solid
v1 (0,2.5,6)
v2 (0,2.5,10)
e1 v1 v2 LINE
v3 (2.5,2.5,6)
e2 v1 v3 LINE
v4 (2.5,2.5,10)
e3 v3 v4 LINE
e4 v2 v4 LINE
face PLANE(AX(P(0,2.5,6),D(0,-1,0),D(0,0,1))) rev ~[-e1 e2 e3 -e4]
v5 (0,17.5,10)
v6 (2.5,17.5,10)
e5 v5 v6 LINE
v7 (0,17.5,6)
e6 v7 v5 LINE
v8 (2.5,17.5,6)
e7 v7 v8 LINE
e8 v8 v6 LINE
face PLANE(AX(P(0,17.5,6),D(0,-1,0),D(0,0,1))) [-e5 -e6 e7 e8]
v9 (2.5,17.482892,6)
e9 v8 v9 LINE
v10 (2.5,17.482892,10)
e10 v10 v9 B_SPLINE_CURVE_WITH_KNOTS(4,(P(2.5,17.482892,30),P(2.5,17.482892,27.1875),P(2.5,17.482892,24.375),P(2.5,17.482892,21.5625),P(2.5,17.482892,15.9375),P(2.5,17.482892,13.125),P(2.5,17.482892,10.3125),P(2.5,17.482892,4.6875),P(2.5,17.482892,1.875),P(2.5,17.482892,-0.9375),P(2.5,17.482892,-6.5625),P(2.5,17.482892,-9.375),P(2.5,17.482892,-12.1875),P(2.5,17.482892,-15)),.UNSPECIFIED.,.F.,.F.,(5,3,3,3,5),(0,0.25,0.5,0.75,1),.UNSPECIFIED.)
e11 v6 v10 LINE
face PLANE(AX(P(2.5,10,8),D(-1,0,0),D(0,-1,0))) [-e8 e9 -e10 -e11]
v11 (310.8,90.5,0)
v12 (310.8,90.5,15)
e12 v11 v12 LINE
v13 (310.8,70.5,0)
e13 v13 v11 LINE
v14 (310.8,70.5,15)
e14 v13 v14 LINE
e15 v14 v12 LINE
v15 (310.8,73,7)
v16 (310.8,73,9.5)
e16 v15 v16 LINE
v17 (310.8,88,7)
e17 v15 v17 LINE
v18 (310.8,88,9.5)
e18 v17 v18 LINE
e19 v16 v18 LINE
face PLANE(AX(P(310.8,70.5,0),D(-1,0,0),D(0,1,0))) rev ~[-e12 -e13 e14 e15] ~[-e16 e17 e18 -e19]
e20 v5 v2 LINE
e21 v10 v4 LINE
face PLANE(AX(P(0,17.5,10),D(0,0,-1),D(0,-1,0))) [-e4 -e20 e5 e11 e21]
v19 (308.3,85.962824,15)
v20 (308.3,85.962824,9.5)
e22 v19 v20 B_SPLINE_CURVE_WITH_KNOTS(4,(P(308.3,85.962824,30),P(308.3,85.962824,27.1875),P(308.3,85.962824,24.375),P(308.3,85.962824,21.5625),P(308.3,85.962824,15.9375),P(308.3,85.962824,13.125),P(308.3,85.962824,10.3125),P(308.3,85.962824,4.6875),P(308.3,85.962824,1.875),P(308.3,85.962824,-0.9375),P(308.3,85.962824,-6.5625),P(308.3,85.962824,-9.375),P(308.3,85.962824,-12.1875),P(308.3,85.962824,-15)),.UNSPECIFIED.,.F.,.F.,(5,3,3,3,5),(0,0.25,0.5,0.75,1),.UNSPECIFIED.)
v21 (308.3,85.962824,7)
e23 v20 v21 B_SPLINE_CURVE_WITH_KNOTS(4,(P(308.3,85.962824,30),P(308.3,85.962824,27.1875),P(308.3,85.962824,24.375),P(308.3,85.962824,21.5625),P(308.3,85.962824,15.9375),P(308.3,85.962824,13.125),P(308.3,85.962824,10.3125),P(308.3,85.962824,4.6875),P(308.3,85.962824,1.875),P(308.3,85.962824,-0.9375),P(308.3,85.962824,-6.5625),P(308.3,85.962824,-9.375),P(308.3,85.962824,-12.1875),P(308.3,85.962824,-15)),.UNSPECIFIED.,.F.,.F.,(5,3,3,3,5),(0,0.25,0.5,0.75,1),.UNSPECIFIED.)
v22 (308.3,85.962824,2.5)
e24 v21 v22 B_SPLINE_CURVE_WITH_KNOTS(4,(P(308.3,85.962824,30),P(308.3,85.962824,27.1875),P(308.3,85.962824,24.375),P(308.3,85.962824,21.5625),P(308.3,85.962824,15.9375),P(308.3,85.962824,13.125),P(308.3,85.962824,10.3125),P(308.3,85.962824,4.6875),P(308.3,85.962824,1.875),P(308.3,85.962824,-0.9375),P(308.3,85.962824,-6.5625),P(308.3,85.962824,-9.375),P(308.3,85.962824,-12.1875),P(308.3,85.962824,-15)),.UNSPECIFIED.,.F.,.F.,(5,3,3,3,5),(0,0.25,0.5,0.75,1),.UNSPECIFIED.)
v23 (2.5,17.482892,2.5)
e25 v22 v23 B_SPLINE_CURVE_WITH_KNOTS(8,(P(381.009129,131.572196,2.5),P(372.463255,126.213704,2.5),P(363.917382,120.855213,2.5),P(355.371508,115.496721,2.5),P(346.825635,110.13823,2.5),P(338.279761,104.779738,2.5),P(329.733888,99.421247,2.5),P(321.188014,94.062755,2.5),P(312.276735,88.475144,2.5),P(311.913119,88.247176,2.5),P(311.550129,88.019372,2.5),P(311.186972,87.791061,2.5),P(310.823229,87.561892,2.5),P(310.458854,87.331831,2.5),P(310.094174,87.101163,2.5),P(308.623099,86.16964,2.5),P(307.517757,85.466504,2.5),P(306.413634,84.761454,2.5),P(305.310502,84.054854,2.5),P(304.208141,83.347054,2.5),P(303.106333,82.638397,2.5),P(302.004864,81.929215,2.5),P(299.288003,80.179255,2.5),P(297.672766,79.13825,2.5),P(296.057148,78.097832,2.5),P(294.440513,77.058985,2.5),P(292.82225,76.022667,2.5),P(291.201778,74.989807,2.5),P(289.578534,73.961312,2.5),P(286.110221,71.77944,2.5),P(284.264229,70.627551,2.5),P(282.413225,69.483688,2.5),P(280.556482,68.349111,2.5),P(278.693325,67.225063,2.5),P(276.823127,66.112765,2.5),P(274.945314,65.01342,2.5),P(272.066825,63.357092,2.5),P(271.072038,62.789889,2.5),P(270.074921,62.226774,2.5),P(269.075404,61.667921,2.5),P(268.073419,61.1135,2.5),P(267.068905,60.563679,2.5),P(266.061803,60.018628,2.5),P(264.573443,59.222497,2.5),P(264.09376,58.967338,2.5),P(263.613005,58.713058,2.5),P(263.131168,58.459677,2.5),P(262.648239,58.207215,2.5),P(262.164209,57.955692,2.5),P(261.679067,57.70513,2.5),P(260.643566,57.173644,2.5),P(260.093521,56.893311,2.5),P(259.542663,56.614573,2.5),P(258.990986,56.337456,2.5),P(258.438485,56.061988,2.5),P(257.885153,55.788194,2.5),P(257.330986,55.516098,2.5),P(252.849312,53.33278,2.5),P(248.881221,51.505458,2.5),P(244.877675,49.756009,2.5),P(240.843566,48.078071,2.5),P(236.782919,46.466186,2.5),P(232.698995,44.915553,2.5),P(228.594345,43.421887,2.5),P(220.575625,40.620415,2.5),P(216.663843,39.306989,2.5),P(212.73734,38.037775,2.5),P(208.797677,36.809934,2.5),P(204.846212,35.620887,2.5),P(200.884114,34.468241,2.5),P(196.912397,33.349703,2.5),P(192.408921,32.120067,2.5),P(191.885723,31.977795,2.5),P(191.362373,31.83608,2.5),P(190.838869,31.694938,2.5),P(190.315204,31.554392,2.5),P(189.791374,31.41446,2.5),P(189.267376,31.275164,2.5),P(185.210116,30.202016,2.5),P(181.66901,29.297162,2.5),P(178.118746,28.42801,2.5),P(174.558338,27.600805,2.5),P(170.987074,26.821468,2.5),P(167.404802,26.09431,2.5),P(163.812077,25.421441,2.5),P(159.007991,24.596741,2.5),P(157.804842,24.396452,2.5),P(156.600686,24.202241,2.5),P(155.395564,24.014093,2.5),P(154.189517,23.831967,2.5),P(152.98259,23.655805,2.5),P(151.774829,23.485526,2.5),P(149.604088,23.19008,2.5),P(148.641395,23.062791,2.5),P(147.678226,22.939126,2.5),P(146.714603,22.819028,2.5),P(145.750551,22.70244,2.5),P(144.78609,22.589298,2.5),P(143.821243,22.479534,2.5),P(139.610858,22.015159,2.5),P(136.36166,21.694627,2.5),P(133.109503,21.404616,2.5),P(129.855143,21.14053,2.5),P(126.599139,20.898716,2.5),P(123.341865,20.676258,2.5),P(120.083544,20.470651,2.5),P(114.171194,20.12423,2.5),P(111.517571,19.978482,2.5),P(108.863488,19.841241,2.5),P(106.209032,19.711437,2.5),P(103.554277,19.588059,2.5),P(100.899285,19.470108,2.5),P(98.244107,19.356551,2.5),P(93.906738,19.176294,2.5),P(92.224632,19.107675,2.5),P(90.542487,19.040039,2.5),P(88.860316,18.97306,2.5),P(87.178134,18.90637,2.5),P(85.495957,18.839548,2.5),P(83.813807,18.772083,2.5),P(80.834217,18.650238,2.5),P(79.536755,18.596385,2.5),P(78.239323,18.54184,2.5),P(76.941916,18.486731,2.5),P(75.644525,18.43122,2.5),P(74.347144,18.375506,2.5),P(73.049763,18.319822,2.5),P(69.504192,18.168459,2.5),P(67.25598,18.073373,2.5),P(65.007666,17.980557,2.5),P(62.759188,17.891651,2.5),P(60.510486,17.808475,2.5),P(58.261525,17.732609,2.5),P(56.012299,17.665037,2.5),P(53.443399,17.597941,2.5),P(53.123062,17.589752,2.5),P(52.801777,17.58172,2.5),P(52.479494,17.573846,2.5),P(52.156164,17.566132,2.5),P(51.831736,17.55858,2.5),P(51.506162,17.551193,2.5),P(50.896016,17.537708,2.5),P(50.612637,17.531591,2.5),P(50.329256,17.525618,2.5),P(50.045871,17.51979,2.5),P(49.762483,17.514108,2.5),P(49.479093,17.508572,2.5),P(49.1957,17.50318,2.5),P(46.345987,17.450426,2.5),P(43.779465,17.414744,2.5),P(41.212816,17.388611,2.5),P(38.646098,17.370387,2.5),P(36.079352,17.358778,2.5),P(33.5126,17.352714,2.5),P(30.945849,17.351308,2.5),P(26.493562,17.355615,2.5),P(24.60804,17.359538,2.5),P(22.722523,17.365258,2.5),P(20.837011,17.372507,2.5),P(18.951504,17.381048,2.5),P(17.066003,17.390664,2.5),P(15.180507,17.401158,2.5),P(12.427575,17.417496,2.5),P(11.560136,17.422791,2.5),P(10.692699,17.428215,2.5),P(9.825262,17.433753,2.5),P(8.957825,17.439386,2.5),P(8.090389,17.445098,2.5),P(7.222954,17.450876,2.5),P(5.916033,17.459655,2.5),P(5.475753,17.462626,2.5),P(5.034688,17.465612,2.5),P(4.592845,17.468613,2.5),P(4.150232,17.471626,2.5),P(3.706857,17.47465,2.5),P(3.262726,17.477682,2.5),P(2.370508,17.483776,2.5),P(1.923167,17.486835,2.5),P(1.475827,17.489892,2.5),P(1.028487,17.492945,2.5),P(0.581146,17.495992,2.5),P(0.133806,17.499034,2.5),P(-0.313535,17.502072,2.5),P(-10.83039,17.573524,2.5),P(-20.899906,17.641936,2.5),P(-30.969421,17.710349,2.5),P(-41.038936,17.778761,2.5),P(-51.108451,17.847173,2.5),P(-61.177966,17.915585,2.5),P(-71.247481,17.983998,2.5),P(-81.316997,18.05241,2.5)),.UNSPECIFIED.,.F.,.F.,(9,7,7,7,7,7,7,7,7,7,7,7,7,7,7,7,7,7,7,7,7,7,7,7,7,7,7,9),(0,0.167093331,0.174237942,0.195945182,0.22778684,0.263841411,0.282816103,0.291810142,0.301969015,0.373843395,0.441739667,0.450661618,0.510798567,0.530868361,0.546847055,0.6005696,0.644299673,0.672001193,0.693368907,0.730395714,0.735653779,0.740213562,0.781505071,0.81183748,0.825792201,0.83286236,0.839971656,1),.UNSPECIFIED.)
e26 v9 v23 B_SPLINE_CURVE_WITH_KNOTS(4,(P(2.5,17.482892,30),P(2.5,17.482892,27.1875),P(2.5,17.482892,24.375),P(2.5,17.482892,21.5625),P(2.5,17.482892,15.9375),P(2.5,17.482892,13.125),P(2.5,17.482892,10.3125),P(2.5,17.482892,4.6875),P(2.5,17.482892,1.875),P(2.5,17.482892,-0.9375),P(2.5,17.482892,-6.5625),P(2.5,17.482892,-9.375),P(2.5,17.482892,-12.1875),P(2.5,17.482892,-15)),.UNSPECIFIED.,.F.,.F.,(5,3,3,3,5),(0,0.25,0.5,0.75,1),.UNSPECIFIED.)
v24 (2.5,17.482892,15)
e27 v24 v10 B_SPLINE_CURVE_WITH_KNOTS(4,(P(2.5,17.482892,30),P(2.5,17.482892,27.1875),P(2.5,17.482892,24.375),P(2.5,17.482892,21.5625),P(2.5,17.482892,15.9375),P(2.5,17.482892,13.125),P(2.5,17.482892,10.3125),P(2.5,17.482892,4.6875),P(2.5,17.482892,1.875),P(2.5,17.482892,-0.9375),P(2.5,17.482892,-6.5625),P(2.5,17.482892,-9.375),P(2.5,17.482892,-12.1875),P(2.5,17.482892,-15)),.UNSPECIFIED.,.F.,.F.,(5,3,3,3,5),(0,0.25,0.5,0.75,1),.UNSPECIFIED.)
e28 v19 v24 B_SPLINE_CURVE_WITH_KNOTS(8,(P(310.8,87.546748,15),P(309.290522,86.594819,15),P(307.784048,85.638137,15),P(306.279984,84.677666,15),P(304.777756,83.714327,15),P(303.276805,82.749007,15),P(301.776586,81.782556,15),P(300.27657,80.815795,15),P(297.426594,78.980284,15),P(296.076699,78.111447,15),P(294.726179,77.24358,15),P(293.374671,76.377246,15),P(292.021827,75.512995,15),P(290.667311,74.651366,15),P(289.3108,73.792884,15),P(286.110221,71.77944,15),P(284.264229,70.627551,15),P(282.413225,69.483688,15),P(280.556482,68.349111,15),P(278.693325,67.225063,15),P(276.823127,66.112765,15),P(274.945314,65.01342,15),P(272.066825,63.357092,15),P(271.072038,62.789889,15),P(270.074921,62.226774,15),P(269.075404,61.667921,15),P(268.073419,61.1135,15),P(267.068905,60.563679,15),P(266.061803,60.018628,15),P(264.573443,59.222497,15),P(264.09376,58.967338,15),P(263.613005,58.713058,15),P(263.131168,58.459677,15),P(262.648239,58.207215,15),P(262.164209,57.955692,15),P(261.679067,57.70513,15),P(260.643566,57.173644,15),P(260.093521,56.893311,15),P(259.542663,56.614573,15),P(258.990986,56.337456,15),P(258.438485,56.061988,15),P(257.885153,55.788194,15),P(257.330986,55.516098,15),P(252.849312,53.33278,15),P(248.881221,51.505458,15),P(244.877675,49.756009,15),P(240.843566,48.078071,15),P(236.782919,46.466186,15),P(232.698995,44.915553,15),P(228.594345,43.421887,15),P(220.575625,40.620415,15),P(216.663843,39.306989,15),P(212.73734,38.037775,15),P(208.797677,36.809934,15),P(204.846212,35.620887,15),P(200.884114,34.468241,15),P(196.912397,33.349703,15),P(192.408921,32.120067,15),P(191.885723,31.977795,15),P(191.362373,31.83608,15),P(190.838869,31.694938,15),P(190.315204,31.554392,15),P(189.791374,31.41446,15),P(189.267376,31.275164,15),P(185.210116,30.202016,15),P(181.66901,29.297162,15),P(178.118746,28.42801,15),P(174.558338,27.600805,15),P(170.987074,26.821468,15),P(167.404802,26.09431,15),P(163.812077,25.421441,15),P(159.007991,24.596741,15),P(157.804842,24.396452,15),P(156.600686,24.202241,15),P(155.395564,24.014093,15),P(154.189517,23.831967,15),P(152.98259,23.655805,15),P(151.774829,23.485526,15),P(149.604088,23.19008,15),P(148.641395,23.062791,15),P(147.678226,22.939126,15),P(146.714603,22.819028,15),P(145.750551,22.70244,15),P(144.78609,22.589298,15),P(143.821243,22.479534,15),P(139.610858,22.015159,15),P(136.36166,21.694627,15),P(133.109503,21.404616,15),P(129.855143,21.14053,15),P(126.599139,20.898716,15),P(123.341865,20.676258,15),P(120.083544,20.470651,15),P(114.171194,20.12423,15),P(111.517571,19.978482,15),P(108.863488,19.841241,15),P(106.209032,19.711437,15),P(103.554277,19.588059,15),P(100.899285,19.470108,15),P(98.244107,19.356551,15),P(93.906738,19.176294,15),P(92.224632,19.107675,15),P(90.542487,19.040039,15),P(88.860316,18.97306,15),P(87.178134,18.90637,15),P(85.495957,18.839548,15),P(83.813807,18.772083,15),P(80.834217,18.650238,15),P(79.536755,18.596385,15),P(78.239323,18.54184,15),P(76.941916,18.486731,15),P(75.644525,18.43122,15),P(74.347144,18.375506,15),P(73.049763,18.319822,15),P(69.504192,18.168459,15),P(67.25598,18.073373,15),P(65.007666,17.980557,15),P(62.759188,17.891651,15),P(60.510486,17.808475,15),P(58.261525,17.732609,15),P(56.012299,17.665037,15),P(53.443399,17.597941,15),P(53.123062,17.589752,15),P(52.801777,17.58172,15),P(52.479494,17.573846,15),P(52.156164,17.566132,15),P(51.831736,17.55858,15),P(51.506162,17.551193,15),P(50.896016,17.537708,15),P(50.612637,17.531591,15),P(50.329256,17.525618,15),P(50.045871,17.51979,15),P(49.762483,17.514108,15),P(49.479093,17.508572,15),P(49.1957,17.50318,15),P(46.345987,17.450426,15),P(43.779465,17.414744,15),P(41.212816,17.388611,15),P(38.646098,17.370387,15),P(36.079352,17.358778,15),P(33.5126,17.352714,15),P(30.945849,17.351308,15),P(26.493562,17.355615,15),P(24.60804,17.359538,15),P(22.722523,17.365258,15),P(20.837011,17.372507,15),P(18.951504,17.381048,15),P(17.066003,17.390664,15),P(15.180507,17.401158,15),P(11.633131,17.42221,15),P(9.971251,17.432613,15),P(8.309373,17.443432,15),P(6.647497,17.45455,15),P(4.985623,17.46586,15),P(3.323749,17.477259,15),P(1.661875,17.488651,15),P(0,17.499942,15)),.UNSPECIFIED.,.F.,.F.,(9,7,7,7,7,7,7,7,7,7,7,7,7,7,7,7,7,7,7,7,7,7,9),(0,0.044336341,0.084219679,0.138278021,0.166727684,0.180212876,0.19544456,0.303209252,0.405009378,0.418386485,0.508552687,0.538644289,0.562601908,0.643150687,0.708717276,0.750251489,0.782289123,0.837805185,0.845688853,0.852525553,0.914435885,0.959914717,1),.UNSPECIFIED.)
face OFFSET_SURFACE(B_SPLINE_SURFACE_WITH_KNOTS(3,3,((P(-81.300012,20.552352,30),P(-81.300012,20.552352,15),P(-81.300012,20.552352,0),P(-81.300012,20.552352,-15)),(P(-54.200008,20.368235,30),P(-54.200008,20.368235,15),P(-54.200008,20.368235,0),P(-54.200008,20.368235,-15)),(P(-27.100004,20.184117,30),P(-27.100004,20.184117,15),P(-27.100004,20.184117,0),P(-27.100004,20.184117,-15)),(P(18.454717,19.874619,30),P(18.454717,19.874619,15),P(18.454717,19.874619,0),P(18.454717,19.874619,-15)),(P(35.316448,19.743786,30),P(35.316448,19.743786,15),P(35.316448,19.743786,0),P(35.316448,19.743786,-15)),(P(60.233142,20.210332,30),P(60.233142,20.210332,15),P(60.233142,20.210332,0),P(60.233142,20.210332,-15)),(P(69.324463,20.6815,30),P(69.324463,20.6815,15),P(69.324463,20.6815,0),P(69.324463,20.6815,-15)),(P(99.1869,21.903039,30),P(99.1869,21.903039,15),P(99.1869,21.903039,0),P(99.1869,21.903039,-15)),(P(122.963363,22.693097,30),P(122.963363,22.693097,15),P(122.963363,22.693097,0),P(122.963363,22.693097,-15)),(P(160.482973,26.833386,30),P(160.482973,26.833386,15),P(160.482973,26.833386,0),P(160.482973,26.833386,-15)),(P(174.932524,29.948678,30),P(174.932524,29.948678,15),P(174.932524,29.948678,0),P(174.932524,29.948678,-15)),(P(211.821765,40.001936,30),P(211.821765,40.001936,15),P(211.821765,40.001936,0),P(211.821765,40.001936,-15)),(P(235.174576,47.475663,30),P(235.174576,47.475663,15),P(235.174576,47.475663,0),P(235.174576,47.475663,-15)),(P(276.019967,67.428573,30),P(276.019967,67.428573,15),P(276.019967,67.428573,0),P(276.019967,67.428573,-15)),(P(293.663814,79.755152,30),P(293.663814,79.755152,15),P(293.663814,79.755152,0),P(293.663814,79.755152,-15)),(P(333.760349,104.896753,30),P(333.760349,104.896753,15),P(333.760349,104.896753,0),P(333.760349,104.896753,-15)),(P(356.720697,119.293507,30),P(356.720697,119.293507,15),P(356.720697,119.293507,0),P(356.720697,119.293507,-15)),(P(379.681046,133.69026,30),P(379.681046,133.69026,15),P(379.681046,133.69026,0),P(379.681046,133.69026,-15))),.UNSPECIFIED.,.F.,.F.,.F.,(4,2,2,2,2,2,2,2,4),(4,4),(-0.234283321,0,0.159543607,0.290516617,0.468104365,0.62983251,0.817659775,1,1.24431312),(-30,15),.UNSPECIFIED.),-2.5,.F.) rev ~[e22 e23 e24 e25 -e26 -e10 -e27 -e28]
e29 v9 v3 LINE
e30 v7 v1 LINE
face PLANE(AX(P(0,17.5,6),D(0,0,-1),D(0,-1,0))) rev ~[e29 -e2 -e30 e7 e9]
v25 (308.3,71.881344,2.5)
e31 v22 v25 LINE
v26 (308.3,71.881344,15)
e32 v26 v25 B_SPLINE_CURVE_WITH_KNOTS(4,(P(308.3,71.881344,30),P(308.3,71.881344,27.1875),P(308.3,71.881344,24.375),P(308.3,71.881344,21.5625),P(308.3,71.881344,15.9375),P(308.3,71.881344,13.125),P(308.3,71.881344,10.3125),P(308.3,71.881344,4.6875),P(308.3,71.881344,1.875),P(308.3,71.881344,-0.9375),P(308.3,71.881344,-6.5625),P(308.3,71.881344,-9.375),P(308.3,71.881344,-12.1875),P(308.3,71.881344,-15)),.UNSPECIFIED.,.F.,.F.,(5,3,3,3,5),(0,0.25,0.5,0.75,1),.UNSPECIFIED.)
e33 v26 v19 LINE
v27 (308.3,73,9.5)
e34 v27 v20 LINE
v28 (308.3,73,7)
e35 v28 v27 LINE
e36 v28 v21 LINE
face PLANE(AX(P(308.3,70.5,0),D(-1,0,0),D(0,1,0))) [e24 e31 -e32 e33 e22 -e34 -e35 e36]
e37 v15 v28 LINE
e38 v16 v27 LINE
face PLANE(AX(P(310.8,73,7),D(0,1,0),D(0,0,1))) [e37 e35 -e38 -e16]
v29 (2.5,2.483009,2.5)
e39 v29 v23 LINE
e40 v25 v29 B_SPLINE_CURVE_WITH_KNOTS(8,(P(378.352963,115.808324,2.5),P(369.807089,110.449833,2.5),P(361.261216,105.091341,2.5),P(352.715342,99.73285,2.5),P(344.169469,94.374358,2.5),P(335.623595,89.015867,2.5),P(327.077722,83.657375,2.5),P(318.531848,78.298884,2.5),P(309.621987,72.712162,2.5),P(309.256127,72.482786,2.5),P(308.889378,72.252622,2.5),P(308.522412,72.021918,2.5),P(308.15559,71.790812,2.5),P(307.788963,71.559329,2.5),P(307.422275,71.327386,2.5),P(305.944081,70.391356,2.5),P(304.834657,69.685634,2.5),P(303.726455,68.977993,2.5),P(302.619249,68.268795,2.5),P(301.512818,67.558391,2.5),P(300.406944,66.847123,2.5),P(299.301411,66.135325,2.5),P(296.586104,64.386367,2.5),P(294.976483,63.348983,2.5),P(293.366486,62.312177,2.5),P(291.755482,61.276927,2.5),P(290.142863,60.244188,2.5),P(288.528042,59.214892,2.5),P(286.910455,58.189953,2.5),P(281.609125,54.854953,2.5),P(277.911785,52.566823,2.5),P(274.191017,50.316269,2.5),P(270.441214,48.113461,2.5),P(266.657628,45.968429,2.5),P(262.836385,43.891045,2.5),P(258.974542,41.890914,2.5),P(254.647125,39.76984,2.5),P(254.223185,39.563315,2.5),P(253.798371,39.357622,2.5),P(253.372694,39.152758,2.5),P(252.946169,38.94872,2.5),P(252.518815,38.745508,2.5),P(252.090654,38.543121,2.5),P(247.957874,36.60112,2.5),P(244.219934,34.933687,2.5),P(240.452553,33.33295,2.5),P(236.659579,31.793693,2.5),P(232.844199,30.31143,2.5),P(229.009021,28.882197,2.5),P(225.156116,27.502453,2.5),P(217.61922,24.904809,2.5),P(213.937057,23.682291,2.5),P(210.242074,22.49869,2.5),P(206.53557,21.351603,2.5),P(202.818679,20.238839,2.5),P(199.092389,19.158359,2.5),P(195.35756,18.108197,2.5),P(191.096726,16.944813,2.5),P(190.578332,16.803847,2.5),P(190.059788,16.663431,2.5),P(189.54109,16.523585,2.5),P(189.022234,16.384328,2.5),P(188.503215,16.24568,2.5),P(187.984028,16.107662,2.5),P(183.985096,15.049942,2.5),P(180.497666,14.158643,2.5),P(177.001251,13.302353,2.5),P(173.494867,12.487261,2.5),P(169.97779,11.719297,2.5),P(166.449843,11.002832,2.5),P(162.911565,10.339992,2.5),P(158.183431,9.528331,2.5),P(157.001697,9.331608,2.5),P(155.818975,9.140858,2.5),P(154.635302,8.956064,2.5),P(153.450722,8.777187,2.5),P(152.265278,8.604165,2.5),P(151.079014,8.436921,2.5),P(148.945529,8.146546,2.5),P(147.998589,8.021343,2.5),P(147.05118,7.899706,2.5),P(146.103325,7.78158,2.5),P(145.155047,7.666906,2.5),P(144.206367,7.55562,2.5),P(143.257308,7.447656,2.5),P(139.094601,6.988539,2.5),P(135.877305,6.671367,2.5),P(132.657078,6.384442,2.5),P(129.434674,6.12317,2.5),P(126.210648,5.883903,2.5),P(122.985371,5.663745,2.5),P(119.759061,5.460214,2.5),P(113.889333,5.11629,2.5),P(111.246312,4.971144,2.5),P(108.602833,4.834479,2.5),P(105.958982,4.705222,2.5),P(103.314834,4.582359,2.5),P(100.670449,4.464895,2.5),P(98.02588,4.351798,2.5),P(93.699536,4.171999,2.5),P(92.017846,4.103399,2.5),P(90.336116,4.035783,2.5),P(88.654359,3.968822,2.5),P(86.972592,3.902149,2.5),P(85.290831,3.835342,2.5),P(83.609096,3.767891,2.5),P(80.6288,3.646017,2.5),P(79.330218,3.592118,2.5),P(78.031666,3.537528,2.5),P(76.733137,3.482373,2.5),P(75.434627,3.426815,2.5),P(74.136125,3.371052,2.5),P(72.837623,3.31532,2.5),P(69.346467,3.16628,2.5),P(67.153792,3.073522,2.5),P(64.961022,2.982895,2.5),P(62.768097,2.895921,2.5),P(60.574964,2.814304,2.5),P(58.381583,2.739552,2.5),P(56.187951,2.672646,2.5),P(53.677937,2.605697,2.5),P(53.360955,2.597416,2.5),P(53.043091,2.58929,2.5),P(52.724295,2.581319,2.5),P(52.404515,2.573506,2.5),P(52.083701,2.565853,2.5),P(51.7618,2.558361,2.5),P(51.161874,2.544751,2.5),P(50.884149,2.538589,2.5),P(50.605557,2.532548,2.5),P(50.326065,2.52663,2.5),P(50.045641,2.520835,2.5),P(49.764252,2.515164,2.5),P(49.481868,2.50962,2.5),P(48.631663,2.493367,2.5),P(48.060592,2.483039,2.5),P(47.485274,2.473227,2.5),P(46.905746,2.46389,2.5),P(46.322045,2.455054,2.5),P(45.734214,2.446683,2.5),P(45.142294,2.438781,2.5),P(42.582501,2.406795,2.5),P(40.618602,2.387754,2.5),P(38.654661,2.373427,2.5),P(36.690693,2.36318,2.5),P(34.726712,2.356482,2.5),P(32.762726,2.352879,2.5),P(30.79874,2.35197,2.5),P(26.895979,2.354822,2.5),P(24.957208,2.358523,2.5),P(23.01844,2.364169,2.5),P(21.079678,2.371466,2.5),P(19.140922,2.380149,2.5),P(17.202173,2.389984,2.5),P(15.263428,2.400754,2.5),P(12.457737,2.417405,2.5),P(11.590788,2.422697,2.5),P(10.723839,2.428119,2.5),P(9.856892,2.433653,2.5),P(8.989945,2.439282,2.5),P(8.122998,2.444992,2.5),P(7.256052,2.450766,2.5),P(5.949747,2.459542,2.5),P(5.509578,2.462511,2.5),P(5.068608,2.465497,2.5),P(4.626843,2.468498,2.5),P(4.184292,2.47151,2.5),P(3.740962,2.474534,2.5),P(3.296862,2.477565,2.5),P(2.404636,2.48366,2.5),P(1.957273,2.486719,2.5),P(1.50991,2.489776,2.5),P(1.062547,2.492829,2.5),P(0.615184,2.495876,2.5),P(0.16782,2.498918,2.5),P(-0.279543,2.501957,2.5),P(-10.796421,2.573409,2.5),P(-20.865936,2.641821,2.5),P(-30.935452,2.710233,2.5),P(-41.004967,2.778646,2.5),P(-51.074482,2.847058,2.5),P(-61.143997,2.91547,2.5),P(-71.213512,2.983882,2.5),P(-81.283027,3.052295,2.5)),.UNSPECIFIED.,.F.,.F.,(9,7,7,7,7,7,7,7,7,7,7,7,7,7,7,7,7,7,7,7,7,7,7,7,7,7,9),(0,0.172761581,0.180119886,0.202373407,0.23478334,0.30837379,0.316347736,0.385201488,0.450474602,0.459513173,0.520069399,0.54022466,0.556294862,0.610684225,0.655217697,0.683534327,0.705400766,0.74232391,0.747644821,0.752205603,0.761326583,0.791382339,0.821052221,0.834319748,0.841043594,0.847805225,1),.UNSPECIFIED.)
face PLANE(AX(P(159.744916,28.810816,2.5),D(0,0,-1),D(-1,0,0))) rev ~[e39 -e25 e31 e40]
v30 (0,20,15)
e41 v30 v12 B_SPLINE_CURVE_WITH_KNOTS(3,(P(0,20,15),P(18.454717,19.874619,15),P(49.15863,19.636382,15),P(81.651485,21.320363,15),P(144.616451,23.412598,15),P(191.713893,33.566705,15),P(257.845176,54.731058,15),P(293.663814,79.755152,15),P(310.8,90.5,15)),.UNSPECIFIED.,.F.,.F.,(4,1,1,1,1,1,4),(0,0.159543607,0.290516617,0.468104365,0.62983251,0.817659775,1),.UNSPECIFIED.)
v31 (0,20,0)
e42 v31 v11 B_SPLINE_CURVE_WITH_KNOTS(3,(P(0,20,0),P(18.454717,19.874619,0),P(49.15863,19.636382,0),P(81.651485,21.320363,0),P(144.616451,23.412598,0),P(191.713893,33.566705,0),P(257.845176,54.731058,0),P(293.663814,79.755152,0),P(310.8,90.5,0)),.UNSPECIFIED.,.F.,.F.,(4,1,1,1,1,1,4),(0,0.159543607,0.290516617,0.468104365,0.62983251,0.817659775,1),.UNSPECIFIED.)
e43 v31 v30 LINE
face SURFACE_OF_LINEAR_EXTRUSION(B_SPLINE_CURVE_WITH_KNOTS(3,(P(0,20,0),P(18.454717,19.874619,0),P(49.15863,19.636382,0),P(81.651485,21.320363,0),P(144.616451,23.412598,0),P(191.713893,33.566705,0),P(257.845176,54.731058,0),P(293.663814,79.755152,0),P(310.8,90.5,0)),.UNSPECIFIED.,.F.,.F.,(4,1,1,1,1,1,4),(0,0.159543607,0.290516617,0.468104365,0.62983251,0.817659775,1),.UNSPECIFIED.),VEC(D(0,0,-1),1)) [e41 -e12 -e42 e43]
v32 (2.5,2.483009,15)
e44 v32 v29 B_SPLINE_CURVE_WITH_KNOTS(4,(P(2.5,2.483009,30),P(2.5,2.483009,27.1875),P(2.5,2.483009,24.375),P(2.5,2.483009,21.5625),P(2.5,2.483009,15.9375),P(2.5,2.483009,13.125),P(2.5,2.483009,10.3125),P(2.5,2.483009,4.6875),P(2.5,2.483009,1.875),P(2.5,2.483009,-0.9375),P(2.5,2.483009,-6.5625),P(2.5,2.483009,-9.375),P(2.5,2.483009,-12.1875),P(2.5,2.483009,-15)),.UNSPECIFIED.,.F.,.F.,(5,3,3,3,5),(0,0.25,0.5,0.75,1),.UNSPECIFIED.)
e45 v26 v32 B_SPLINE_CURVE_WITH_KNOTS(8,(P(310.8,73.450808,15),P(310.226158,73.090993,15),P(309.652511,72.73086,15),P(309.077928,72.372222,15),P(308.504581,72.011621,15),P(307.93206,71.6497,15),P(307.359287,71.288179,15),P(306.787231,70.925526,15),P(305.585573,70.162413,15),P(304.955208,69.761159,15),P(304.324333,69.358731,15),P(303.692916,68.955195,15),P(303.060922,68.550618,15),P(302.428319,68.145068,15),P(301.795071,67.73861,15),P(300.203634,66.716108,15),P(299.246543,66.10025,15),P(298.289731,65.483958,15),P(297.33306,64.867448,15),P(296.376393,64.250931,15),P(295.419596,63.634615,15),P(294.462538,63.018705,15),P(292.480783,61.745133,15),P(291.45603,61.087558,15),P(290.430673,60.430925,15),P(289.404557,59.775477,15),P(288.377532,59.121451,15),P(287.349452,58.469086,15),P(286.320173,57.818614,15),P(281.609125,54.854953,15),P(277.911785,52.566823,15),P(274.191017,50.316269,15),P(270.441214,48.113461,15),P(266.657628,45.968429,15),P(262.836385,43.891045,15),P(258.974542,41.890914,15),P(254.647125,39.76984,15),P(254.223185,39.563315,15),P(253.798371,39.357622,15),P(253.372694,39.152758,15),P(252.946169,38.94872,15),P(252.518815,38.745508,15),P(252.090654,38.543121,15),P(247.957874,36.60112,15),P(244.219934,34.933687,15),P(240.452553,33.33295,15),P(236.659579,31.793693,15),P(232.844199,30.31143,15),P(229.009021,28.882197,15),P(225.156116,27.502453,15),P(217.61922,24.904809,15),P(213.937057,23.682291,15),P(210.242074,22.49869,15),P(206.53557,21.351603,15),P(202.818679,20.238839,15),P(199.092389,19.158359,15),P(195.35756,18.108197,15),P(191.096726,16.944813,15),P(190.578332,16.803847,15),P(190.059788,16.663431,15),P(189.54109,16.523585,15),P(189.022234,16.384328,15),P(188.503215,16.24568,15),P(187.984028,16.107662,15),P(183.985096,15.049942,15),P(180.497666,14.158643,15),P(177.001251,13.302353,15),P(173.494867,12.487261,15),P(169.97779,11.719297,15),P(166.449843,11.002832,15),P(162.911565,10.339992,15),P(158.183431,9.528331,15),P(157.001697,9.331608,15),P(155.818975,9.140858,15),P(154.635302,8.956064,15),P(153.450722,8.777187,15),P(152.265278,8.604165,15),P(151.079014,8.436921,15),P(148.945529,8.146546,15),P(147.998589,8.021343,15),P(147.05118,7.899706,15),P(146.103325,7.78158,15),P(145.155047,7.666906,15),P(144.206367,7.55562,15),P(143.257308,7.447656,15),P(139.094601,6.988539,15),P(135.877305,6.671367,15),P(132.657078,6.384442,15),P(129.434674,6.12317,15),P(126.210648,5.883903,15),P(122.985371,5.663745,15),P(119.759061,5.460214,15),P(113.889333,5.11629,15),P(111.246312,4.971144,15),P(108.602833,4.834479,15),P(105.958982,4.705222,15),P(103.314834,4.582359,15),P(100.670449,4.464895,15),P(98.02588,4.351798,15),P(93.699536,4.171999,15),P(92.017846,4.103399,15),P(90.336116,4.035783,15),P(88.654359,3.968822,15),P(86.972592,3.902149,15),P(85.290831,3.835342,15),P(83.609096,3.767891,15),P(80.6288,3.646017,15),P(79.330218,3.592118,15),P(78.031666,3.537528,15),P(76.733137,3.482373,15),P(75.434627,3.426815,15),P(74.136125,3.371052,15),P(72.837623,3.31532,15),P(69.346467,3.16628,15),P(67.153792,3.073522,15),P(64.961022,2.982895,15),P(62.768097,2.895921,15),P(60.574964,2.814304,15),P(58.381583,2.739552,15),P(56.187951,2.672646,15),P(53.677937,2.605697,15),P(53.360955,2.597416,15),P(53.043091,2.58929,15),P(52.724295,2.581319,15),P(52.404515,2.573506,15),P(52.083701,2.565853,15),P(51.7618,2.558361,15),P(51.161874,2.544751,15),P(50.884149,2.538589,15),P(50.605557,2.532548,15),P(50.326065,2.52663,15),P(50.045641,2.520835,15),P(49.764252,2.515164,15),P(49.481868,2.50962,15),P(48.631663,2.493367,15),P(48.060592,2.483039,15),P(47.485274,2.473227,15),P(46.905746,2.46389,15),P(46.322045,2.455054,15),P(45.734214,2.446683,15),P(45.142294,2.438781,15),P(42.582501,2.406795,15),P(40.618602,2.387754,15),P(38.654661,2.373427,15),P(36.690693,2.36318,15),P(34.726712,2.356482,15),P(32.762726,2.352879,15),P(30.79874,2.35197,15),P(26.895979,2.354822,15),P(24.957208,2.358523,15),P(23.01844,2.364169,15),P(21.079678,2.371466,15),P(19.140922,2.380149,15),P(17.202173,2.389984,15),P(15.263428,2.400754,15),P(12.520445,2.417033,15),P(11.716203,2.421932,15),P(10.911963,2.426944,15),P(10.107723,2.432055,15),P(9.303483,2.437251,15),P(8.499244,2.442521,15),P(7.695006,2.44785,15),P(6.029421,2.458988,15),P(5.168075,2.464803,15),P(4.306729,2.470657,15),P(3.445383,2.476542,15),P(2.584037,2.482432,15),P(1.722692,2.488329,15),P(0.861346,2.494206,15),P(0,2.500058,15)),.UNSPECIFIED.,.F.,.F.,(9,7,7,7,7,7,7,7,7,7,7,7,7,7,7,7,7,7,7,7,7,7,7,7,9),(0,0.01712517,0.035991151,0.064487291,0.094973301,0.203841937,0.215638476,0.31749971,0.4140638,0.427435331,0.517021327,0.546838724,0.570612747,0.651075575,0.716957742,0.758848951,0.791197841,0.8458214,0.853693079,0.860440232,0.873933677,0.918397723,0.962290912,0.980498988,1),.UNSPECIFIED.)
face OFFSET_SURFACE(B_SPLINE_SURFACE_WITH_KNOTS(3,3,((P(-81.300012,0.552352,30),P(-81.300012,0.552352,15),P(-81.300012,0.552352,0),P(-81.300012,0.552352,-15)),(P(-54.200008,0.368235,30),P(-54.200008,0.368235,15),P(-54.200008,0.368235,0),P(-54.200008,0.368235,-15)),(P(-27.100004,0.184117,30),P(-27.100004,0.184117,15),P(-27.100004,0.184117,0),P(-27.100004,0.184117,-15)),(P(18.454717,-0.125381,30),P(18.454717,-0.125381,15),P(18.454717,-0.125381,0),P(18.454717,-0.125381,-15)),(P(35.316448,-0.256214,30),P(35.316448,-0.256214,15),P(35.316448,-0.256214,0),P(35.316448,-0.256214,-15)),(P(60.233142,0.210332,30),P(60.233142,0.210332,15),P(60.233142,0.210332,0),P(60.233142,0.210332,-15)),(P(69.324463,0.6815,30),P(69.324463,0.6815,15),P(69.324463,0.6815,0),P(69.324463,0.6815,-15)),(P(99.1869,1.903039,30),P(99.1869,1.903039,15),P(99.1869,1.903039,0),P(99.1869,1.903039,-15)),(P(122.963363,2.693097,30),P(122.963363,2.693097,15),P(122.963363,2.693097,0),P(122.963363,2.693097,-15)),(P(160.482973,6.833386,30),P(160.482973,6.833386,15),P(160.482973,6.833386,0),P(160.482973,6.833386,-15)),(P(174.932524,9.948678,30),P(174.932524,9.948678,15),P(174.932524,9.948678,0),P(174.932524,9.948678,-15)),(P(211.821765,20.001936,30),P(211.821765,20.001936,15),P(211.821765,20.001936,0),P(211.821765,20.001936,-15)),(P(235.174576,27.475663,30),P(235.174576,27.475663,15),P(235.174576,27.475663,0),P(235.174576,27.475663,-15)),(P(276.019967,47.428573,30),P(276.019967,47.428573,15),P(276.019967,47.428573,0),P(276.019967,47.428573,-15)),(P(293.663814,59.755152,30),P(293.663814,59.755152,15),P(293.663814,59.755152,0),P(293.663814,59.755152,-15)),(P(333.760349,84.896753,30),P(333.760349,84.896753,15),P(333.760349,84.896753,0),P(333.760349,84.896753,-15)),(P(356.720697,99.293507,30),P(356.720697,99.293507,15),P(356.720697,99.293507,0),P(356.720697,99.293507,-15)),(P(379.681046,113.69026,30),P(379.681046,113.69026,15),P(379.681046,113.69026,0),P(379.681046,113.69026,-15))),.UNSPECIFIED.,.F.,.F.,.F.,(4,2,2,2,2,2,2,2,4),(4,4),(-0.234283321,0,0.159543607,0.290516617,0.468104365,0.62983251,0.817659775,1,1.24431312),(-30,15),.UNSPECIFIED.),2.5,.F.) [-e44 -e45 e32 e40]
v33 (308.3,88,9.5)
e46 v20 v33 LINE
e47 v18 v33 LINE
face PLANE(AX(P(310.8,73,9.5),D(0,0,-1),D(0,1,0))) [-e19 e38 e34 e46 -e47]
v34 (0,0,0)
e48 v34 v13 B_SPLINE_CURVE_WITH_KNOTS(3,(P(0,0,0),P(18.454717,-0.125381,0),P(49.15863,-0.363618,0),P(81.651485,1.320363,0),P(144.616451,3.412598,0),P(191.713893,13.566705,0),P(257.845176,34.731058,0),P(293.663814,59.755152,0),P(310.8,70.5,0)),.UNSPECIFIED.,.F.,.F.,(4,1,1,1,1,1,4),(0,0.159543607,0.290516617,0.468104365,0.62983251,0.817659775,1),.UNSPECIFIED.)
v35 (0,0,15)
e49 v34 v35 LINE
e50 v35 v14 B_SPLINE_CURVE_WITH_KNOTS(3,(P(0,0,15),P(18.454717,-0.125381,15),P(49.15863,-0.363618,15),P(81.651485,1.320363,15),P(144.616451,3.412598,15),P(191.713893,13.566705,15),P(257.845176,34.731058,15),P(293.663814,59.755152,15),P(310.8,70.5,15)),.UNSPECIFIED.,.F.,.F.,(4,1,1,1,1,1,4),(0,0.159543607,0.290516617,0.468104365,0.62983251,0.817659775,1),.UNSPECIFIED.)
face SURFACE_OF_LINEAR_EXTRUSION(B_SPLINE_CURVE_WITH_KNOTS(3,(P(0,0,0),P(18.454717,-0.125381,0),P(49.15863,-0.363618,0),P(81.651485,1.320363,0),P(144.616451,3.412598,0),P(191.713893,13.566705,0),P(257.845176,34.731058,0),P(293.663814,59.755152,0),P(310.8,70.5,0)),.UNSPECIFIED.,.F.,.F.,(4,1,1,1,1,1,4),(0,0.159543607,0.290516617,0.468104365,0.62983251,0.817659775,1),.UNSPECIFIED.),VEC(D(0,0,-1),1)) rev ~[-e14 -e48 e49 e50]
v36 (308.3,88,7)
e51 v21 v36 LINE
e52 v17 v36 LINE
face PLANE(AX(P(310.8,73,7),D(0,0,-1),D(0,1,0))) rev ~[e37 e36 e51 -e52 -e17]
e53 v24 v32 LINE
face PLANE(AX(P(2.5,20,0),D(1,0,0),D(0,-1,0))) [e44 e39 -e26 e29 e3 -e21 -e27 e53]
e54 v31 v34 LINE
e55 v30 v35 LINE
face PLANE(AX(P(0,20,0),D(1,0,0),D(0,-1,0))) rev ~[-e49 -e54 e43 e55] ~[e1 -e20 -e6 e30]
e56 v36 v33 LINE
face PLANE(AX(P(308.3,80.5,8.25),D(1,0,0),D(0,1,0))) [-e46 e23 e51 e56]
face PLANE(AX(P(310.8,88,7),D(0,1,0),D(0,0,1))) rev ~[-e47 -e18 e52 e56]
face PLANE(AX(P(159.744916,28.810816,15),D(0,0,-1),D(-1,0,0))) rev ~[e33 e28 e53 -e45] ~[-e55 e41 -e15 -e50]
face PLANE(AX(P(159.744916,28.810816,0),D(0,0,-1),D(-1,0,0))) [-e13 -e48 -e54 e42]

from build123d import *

# Parameters (mm, degrees)
F1_DEPTH = 15
F2_T     = -2.5
F3_W     = 15
F3_H     = 4
F4_DEPTH = 2.5
F5_W     = 15
F5_H     = 2.5
F6_DEPTH = 2.5


with BuildPart() as f1:
    # F0 (on Top) → F1 (new body)
    with BuildSketch(Plane.XY):
        with BuildLine():
            add(Edge.make_bspline(
                [(0, 20), (18.4547170081, 19.8746186243), (49.1586302486, 19.6363824376), (81.651485284, 21.3203627116), (144.6164509178, 23.4125982049), (191.7138925015, 33.5667046191), (257.8451763383, 54.7310576595), (293.6638137306, 79.7551524216), (310.8, 90.5)],
                knots=[0, 0, 0, 0, 0.159543607, 0.2905166174, 0.4681043654, 0.6298325102, 0.8176597752, 1, 1, 1, 1], degree=3))
            Line((0, 20), (0, 0))
            add(Edge.make_bspline(
                [(0, 0), (18.4547170081, -0.1253813757), (49.1586302486, -0.3636175624), (81.651485284, 1.3203627116), (144.6164509178, 3.4125982049), (191.7138925015, 13.5667046191), (257.8451763383, 34.7310576595), (293.6638137306, 59.7551524216), (310.8, 70.5)],
                knots=[0, 0, 0, 0, 0.159543607, 0.2905166174, 0.4681043654, 0.6298325102, 0.8176597752, 1, 1, 1, 1], degree=3))
            Line((310.8, 70.5), (310.8, 90.5))
        make_face()
    extrude(amount=F1_DEPTH)

    # F2
    f2_openings = [f1.faces().sort_by_distance(p)[0] for p in [
        (162.825516, 24.515519, 15),
    ]]
    offset(amount=F2_T, openings=f2_openings, kind=Kind.INTERSECTION)

    # F3 (on face) → F4 (cut, through all)
    with BuildSketch(Plane(origin=(0, 0, 0), x_dir=(0, -1, 0), z_dir=(-1, 0, 0))):
        with Locations((-10, 8)):
            Rectangle(F3_W, F3_H)
    extrude(amount=-F4_DEPTH, mode=Mode.SUBTRACT)

    # F5 (on face) → F6 (cut, through all)
    with BuildSketch(Plane.YZ.offset(310.8)):
        with Locations((80.5, 8.25)):
            Rectangle(F5_W, F5_H)
    extrude(amount=-F6_DEPTH, mode=Mode.SUBTRACT)


solid = f1.part
